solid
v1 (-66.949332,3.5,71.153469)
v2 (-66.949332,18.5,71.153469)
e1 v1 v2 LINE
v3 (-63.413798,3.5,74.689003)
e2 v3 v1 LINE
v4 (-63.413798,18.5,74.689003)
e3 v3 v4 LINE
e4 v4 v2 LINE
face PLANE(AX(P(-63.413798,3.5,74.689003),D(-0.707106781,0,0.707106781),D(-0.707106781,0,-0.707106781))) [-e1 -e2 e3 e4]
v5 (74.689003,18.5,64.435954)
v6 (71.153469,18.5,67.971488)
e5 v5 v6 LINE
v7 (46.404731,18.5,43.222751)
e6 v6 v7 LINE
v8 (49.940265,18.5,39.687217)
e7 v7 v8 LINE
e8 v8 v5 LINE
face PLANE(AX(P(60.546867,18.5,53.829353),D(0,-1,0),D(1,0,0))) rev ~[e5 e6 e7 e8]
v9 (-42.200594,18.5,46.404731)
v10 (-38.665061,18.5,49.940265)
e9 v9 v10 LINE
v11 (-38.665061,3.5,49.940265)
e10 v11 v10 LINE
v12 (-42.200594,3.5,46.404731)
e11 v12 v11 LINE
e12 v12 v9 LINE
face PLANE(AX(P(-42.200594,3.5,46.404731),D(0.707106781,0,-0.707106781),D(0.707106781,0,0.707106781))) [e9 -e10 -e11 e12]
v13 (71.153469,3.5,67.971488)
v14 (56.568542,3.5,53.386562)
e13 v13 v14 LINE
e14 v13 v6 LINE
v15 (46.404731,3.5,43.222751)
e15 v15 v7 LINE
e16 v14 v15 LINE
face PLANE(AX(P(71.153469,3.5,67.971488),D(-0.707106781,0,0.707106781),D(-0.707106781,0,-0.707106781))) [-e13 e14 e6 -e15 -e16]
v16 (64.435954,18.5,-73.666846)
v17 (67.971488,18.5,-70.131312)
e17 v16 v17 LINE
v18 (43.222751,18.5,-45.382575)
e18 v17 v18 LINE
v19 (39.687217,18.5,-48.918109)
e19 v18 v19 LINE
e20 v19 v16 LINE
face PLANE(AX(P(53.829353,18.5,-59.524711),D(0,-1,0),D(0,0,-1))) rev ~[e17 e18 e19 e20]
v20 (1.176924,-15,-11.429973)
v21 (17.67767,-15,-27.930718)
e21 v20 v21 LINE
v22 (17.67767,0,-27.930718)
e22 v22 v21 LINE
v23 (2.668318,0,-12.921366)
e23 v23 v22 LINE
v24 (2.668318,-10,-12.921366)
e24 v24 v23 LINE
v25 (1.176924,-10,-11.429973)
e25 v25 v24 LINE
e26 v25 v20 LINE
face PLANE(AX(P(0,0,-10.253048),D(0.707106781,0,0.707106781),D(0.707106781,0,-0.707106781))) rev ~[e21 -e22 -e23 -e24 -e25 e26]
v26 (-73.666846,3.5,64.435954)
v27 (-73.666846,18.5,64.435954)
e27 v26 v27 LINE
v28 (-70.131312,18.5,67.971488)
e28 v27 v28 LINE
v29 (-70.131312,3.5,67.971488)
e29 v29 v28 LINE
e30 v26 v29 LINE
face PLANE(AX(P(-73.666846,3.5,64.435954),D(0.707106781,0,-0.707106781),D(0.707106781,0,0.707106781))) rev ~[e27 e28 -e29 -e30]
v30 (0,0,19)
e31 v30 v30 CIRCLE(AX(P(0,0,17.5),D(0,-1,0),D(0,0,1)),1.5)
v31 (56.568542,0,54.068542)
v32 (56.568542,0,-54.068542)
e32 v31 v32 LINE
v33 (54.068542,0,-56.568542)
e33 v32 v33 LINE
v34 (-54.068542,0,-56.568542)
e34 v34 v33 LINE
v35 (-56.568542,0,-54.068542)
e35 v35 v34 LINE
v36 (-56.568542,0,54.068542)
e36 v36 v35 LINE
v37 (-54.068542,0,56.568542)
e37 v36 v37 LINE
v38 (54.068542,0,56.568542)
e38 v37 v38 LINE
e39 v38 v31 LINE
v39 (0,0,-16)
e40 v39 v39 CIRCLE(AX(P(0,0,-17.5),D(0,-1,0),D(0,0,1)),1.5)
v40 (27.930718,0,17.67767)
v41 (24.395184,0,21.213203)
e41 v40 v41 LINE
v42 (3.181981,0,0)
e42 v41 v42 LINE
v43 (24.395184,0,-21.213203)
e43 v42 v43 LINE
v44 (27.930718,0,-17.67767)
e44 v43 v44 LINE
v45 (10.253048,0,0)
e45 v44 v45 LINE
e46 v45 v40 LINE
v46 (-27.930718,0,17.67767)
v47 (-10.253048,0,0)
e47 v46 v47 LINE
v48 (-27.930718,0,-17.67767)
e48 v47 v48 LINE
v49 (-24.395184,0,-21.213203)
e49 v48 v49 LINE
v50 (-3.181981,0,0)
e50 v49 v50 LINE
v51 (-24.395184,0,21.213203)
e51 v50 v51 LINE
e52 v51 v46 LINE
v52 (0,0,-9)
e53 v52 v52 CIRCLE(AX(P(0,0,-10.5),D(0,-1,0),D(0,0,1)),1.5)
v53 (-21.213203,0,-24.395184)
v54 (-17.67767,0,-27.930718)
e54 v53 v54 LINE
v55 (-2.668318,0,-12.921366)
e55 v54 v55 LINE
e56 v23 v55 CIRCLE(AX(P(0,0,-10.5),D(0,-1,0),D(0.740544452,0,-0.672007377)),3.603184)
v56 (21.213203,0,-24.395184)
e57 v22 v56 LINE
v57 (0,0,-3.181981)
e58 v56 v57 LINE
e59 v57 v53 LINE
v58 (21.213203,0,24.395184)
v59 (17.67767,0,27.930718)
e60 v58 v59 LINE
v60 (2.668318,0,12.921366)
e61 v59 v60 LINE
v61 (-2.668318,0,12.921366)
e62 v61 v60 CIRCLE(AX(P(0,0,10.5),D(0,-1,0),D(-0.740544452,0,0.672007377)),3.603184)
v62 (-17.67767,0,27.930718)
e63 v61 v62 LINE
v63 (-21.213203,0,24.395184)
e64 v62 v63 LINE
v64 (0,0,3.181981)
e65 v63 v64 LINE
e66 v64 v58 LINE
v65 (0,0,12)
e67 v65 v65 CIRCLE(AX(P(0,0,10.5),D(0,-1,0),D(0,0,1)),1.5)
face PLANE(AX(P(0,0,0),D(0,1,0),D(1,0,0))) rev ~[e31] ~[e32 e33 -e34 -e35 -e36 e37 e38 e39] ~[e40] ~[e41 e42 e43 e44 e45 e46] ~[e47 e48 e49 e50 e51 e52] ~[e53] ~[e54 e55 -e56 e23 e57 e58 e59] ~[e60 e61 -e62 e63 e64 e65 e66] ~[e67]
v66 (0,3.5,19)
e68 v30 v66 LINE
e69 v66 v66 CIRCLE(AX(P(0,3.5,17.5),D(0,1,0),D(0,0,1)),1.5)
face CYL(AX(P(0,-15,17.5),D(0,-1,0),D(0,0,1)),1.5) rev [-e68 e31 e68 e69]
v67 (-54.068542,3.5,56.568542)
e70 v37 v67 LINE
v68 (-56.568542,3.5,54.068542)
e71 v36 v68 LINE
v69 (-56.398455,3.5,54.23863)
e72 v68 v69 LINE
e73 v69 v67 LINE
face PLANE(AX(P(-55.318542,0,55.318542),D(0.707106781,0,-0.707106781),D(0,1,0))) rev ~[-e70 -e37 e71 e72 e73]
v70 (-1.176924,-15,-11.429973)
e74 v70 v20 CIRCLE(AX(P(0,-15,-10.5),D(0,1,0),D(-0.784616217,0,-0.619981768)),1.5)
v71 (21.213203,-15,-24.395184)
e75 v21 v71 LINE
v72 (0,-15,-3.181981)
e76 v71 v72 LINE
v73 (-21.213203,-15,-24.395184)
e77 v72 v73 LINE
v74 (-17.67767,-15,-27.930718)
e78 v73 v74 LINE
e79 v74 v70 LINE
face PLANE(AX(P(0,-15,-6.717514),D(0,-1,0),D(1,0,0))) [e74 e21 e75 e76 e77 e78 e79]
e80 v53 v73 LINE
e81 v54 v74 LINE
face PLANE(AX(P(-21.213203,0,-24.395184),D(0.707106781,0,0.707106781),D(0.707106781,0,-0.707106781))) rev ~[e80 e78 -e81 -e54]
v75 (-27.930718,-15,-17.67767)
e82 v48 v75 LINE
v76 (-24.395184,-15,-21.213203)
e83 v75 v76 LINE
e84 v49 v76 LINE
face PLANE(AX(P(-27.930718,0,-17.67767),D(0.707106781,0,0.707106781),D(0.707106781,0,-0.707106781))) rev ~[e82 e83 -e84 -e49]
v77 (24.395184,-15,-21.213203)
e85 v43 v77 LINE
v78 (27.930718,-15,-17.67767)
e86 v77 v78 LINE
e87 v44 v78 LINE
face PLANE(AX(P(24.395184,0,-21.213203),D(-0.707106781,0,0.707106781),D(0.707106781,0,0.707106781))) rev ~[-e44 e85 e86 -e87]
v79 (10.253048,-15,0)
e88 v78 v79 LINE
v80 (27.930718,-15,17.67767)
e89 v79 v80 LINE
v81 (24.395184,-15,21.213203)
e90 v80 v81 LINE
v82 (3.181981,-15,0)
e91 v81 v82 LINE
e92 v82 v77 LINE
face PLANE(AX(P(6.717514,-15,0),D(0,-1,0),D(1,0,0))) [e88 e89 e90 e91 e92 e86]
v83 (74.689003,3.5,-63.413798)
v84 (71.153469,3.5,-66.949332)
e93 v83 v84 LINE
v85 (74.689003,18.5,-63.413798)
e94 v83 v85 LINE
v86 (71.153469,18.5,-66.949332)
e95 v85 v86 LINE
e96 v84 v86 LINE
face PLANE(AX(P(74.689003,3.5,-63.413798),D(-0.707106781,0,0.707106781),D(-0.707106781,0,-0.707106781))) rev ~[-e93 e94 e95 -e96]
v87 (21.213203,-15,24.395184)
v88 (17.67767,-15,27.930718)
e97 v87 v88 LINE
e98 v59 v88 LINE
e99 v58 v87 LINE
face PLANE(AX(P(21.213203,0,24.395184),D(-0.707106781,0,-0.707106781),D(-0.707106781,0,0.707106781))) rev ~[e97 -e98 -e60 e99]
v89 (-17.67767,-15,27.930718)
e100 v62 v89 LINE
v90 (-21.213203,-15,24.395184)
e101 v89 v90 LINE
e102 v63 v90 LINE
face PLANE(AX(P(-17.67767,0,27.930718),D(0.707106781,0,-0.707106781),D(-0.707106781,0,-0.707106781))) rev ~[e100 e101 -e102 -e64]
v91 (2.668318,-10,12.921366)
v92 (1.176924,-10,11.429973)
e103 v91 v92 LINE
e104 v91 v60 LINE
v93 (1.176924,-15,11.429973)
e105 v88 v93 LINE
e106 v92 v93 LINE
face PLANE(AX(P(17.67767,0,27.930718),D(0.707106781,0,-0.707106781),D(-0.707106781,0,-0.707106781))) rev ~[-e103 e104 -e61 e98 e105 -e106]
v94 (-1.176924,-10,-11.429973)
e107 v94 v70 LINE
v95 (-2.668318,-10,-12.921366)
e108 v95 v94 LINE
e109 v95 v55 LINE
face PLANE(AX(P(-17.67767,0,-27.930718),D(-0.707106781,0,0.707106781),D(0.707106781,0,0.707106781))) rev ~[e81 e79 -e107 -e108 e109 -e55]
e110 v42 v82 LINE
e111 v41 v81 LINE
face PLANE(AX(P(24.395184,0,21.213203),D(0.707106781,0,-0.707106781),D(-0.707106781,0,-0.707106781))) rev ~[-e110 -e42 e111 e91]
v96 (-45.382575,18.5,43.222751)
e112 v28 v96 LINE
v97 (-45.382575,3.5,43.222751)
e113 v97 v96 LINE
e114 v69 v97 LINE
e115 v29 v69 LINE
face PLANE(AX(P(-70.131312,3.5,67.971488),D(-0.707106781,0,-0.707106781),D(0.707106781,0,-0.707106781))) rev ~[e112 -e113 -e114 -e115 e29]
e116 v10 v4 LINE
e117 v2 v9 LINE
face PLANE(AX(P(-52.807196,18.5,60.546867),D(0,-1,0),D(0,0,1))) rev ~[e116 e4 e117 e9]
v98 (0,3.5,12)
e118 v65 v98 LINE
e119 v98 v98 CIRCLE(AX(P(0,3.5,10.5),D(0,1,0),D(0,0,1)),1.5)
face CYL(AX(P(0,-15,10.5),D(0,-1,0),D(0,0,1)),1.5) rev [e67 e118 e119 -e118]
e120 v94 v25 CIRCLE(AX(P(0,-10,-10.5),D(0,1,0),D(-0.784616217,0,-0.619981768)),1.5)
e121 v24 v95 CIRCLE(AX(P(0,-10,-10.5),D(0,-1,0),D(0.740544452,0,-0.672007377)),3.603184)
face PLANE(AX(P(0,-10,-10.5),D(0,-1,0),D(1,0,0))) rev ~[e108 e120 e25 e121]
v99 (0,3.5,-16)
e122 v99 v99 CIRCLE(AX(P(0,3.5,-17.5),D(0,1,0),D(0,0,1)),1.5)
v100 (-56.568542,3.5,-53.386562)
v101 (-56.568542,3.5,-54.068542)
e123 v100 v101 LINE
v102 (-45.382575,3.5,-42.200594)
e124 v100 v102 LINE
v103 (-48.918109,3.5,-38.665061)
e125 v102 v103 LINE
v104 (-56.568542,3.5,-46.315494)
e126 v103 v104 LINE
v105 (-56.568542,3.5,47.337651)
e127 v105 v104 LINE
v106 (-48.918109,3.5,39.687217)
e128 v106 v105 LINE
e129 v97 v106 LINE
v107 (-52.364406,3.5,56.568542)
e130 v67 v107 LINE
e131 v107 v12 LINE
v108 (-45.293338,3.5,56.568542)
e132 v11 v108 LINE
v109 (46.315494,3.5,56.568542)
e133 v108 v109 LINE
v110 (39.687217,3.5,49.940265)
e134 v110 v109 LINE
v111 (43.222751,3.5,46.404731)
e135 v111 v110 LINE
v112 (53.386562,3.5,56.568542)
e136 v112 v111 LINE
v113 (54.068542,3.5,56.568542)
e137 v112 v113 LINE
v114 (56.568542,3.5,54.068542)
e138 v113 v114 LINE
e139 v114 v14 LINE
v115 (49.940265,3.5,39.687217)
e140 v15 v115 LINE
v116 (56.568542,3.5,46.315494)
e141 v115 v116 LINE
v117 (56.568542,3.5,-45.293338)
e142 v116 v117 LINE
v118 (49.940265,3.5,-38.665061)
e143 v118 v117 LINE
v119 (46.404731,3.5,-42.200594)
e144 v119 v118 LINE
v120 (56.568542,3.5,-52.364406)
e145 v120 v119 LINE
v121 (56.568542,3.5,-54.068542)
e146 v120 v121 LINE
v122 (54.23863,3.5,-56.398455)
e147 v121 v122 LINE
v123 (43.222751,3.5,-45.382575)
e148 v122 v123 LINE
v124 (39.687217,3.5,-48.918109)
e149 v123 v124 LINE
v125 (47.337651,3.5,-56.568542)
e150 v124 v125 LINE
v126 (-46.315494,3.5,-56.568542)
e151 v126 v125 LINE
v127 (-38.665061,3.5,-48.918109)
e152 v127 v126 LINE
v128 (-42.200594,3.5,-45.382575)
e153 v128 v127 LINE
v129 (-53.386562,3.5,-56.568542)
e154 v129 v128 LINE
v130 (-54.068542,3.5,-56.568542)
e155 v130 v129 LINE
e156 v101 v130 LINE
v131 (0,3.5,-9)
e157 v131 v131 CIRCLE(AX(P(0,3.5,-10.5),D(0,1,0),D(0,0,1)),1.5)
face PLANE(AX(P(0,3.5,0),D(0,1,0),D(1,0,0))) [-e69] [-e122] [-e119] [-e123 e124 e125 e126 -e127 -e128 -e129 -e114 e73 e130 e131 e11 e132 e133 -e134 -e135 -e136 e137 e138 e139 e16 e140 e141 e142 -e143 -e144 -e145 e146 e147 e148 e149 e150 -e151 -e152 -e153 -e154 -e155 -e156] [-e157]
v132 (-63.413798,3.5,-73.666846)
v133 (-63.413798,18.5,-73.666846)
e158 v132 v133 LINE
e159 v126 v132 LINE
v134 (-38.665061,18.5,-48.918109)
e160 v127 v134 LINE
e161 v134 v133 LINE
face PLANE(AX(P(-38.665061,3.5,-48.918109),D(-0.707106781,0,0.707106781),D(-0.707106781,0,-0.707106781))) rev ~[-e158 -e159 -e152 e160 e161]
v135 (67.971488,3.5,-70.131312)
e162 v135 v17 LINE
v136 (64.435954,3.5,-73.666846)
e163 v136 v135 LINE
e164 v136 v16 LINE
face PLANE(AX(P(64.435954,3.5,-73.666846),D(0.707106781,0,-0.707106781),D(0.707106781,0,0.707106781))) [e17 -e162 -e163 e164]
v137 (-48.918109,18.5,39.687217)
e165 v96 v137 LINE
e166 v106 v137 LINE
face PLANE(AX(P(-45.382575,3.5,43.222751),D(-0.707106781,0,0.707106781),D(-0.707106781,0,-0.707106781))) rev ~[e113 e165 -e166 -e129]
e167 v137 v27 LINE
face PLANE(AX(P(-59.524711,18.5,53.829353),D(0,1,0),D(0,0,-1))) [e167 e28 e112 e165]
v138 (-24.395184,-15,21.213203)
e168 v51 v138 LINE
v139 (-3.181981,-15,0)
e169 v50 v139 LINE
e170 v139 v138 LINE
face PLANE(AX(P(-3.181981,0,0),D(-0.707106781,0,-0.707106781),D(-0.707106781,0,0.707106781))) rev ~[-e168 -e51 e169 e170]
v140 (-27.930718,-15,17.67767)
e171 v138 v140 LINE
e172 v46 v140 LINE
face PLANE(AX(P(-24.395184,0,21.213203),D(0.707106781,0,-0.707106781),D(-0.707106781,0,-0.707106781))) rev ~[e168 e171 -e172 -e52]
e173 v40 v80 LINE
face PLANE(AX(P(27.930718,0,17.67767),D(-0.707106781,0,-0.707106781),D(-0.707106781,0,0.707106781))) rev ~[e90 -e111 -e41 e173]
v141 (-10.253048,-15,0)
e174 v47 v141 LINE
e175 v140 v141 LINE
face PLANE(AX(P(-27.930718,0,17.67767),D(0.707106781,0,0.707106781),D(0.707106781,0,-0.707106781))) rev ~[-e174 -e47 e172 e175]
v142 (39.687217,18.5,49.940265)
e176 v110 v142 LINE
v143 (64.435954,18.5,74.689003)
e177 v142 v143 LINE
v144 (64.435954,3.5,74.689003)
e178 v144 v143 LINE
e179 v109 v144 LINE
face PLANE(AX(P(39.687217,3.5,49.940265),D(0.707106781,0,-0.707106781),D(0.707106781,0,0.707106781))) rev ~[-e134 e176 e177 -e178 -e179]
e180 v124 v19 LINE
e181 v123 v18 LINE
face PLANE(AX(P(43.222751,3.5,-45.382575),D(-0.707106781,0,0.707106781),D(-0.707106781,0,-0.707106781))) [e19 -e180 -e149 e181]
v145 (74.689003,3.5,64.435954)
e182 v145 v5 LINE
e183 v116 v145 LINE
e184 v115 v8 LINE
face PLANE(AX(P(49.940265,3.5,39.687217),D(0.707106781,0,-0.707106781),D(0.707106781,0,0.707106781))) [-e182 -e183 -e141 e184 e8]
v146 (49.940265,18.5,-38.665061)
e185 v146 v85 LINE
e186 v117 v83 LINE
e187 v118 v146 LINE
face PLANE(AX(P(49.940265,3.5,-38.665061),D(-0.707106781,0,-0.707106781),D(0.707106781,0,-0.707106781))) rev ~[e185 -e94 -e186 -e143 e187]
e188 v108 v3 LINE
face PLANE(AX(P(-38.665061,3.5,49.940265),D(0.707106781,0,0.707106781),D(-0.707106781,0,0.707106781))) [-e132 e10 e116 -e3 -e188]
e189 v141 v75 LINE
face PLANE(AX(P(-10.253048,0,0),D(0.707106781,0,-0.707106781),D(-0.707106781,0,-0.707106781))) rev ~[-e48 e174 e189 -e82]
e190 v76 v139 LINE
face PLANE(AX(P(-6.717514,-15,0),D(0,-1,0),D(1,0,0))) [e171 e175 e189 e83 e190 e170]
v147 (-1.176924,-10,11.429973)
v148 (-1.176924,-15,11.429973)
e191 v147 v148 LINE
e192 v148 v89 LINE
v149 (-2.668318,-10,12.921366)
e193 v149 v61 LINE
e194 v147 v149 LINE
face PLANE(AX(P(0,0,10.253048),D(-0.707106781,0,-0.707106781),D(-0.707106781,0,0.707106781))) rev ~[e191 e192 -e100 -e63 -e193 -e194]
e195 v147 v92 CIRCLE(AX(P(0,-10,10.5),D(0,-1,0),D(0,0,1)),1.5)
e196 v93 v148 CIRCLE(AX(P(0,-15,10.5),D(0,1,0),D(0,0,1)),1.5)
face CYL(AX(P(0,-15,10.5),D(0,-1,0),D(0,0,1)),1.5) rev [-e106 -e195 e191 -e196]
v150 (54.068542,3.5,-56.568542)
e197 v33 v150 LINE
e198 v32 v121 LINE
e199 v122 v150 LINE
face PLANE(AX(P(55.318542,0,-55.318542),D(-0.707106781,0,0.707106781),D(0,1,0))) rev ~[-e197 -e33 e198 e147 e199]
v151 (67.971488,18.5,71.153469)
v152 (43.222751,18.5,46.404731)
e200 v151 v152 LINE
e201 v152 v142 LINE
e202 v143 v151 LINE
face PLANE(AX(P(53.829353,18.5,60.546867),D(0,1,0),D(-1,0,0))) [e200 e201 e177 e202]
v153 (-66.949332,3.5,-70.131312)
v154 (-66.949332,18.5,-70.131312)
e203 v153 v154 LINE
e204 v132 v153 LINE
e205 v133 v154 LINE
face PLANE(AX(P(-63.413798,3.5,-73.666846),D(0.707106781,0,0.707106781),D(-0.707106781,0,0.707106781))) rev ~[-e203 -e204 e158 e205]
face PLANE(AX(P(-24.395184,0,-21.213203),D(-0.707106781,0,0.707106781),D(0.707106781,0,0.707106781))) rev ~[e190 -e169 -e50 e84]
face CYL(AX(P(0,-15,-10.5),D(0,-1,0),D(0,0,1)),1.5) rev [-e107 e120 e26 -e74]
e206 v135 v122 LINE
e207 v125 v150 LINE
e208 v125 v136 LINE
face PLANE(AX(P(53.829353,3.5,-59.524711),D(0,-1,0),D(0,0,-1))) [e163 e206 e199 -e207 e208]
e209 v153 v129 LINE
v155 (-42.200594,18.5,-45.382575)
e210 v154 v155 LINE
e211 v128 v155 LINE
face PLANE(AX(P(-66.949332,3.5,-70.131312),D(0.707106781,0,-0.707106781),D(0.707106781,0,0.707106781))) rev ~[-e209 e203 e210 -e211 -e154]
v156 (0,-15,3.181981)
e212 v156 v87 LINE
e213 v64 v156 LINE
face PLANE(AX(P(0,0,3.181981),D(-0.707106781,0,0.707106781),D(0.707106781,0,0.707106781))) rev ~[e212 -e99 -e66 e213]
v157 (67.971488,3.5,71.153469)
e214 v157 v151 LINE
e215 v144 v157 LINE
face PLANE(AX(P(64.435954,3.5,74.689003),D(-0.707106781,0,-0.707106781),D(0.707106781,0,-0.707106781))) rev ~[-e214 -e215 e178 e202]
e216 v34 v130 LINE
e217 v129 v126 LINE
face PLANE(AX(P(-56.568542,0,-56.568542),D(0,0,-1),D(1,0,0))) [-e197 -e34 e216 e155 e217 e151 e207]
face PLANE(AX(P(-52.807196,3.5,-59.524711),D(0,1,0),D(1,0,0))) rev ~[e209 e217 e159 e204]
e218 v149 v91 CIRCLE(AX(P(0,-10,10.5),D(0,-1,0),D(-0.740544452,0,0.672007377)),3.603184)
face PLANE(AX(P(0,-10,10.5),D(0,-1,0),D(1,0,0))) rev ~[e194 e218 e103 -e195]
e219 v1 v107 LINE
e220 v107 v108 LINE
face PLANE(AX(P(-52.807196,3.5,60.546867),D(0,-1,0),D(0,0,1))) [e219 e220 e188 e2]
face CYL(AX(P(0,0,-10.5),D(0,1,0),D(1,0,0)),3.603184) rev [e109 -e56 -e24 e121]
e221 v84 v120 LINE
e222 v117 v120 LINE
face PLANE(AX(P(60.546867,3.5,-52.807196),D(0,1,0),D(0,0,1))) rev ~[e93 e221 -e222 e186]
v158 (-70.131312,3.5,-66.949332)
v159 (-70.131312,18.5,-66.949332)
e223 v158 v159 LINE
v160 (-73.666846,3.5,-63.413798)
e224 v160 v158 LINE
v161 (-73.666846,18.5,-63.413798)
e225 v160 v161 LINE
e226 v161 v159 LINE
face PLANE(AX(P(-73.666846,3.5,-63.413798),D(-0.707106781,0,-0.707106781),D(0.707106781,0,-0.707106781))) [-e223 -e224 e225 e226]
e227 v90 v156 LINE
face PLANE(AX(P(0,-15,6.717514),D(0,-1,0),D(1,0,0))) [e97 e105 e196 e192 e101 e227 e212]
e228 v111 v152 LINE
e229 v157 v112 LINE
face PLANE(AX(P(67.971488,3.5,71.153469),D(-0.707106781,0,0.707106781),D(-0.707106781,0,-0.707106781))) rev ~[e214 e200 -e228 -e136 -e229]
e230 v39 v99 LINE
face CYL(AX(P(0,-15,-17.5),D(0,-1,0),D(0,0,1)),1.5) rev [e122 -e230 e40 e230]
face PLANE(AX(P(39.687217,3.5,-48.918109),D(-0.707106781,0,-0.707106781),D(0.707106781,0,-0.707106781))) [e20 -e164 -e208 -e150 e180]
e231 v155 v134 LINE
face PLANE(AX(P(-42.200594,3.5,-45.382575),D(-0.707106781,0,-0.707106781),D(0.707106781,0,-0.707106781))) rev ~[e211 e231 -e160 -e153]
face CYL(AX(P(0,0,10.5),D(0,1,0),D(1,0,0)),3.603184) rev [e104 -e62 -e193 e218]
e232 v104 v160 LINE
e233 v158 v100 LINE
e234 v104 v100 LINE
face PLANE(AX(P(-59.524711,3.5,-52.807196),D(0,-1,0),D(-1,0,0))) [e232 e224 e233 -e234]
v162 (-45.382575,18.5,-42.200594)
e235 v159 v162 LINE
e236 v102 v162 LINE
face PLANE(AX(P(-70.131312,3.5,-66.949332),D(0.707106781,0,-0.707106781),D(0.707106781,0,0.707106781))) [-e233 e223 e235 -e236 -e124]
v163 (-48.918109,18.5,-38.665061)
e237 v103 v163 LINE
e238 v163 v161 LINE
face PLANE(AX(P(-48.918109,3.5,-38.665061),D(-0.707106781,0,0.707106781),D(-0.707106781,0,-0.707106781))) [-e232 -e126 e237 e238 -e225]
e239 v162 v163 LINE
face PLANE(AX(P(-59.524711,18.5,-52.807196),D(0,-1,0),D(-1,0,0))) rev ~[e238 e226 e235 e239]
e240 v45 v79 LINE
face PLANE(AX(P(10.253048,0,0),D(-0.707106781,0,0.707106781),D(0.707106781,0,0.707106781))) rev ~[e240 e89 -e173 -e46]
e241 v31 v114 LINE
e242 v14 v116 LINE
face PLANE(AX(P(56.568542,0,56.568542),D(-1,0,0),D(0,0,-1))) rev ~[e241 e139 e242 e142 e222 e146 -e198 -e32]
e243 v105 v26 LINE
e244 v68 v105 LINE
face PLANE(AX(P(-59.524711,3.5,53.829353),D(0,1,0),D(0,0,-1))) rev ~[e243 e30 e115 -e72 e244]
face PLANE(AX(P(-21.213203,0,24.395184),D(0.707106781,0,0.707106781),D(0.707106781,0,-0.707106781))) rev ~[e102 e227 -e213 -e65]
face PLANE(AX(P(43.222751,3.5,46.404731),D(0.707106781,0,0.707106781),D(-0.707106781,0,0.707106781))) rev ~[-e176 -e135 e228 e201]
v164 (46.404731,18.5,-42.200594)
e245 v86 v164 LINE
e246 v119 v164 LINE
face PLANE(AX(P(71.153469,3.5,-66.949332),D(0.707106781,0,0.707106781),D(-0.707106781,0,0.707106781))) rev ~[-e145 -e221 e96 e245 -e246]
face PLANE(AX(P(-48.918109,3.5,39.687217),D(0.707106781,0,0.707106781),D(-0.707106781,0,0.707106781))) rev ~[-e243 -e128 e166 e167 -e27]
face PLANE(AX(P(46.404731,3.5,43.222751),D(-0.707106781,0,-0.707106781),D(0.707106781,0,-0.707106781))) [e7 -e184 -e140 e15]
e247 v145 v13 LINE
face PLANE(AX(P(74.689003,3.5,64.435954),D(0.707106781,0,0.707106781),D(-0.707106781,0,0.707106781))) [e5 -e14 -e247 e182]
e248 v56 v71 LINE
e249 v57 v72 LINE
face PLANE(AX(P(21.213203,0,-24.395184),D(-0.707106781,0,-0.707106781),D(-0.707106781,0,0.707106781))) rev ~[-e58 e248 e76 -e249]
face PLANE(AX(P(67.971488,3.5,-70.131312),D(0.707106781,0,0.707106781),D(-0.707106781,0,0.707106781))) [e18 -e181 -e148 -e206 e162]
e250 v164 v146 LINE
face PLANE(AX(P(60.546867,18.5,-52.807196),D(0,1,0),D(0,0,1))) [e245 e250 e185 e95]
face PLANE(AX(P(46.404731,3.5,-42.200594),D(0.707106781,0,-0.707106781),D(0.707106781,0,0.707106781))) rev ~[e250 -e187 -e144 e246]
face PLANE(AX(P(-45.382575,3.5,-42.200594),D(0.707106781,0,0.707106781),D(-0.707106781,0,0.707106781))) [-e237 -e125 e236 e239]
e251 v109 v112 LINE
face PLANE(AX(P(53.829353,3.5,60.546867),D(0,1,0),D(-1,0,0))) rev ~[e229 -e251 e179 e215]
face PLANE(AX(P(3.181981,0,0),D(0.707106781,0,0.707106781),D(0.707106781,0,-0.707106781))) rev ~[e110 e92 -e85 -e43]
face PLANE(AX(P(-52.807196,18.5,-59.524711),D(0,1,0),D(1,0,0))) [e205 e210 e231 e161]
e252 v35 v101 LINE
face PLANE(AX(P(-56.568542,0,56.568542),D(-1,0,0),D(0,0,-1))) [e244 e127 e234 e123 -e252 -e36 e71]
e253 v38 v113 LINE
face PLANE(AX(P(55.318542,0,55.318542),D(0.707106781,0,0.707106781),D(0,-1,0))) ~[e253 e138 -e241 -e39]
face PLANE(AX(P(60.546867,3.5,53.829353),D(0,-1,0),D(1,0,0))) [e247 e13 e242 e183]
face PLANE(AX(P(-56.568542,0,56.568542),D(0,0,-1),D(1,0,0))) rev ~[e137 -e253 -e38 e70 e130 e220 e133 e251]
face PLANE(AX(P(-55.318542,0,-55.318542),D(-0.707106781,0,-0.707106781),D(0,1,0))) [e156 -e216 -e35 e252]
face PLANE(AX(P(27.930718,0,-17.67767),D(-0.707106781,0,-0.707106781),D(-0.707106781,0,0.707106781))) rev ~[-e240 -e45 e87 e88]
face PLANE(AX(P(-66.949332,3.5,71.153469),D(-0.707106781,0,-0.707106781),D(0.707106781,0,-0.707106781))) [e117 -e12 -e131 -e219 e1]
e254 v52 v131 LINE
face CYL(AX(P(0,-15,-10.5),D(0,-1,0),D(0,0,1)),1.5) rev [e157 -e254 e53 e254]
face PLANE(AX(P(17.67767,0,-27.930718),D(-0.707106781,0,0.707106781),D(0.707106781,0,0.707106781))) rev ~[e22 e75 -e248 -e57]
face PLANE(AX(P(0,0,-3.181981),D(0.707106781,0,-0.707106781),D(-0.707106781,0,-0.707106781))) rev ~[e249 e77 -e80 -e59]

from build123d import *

# Parameters (mm, degrees)
SKETCH2_W           = 113.13708499
SKETCH2_H           = 113.13708499
BOSS_EXTRUDE1_DEPTH = 3.5
CHAMFER1_SIZE       = 2.5
BOSS_EXTRUDE3_DEPTH = 15
BOSS_EXTRUDE5_DEPTH = 15
CIRPATTERN11_COUNT  = 4
CUT_EXTRUDE3_START  = -18.5
SKETCH8_R           = 1.5
CUT_EXTRUDE3_DEPTH  = 18.5
SKETCH9_R           = 3.603183746
CUT_EXTRUDE4_DEPTH  = 10


with BuildPart() as part:
    # Sketch2 → Boss-Extrude1 (new body)
    with BuildSketch(Plane(origin=(0, 0, 0), x_dir=(1, 0, 0), z_dir=(0, 1, 0))):
        Rectangle(SKETCH2_W, SKETCH2_H)
    extrude(amount=BOSS_EXTRUDE1_DEPTH)

    # Chamfer1
    chamfer1_edges = [part.edges().sort_by_distance(p)[0] for p in [
        (56.568542495, 1.75, 56.568542495),
        (-56.568542495, 1.75, 56.568542495),
        (-56.568542495, 1.75, -56.568542495),
        (56.568542495, 1.75, -56.568542495),
    ]]
    chamfer(chamfer1_edges, length=CHAMFER1_SIZE)

    # Sketch3 → Boss-Extrude3 (add)
    with BuildSketch(Plane.XZ):
        Polygon((0, 10.253048327), (-3.535533906, 6.717514421), (0, 3.181980515), (3.535533906, 6.717514421), align=None)
        Polygon((-21.213203436, 24.395183951), (-3.535533906, 6.717514421), (0, 10.253048327), (-17.67766953, 27.930717857), align=None)
        Polygon((17.67766953, 27.930717857), (0, 10.253048327), (3.535533906, 6.717514421), (21.213203436, 24.395183951), align=None)
        Polygon((6.717514421, 3.535533906), (3.181980515, 0), (6.717514421, -3.535533906), (10.253048327, 0), align=None)
        Polygon((24.395183951, 21.213203436), (6.717514421, 3.535533906), (10.253048327, 0), (27.930717857, 17.67766953), align=None)
        Polygon((10.253048327, 0), (6.717514421, -3.535533906), (24.395183951, -21.213203436), (27.930717857, -17.67766953), align=None)
        Polygon((3.535533906, -6.717514421), (0, -3.181980515), (-3.535533906, -6.717514421), (0, -10.253048327), align=None)
        Polygon((21.213203436, -24.395183951), (3.535533906, -6.717514421), (0, -10.253048327), (17.67766953, -27.930717857), align=None)
        Polygon((0, -10.253048327), (-3.535533906, -6.717514421), (-21.213203436, -24.395183951), (-17.67766953, -27.930717857), align=None)
        Polygon((-6.717514421, -3.535533906), (-3.181980515, 0), (-6.717514421, 3.535533906), (-10.253048327, 0), align=None)
        Polygon((-24.395183951, -21.213203436), (-6.717514421, -3.535533906), (-10.253048327, 0), (-27.930717857, -17.67766953), align=None)
        Polygon((-10.253048327, 0), (-6.717514421, 3.535533906), (-24.395183951, 21.213203436), (-27.930717857, 17.67766953), align=None)
    extrude(amount=BOSS_EXTRUDE3_DEPTH)

    # Sketch6 → Boss-Extrude5 (add)
    with BuildSketch(Plane(origin=(0, 3.5, 0), x_dir=(1, 0, 0), z_dir=(0, 1, 0))):
        Polygon((-66.949331771, 70.131312286), (-42.20059443, 45.382574945), (-38.665060524, 48.918108851), (-63.413797865, 73.666846192), align=None)
        Polygon((-45.382574945, 42.20059443), (-48.918108851, 38.665060524), (-73.666846192, 63.413797865), (-70.131312286, 66.949331771), align=None)
    boss_extrude5 = extrude(amount=BOSS_EXTRUDE5_DEPTH)

    # CirPattern11: Boss-Extrude5 ×4 about axis
    cirpattern11_axis = Axis((0.511078202, 0, 0.511078202), (0, 1, 0))
    for i in range(1, CIRPATTERN11_COUNT):
        add(boss_extrude5.rotate(cirpattern11_axis, i * 360 / CIRPATTERN11_COUNT))

    # Sketch8 → Cut-Extrude3 (cut)
    with BuildSketch(Plane(origin=(0, 3.5, 0), x_dir=(1, 0, 0), z_dir=(0, 1, 0)).offset(CUT_EXTRUDE3_START)):
        with Locations(Location((0, 10.5, 0), (0, 0, 270))):
            Circle(SKETCH8_R)
        with Locations(Location((0, -10.5, 0), (0, 0, 270))):
            Circle(SKETCH8_R)
        with Locations(Location((0, 17.5, 0), (0, 0, 270))):
            Circle(SKETCH8_R)
        with Locations(Location((0, -17.5, 0), (0, 0, 270))):
            Circle(SKETCH8_R)
    extrude(amount=CUT_EXTRUDE3_DEPTH, mode=Mode.SUBTRACT)

    # Sketch9 → Cut-Extrude4 (cut)
    with BuildSketch(Plane.XZ):
        with Locations((0, 10.5)):
            Circle(SKETCH9_R)
        with Locations((0, -10.5)):
            Circle(SKETCH9_R)
    extrude(amount=CUT_EXTRUDE4_DEPTH, mode=Mode.SUBTRACT)


solid = part.part
